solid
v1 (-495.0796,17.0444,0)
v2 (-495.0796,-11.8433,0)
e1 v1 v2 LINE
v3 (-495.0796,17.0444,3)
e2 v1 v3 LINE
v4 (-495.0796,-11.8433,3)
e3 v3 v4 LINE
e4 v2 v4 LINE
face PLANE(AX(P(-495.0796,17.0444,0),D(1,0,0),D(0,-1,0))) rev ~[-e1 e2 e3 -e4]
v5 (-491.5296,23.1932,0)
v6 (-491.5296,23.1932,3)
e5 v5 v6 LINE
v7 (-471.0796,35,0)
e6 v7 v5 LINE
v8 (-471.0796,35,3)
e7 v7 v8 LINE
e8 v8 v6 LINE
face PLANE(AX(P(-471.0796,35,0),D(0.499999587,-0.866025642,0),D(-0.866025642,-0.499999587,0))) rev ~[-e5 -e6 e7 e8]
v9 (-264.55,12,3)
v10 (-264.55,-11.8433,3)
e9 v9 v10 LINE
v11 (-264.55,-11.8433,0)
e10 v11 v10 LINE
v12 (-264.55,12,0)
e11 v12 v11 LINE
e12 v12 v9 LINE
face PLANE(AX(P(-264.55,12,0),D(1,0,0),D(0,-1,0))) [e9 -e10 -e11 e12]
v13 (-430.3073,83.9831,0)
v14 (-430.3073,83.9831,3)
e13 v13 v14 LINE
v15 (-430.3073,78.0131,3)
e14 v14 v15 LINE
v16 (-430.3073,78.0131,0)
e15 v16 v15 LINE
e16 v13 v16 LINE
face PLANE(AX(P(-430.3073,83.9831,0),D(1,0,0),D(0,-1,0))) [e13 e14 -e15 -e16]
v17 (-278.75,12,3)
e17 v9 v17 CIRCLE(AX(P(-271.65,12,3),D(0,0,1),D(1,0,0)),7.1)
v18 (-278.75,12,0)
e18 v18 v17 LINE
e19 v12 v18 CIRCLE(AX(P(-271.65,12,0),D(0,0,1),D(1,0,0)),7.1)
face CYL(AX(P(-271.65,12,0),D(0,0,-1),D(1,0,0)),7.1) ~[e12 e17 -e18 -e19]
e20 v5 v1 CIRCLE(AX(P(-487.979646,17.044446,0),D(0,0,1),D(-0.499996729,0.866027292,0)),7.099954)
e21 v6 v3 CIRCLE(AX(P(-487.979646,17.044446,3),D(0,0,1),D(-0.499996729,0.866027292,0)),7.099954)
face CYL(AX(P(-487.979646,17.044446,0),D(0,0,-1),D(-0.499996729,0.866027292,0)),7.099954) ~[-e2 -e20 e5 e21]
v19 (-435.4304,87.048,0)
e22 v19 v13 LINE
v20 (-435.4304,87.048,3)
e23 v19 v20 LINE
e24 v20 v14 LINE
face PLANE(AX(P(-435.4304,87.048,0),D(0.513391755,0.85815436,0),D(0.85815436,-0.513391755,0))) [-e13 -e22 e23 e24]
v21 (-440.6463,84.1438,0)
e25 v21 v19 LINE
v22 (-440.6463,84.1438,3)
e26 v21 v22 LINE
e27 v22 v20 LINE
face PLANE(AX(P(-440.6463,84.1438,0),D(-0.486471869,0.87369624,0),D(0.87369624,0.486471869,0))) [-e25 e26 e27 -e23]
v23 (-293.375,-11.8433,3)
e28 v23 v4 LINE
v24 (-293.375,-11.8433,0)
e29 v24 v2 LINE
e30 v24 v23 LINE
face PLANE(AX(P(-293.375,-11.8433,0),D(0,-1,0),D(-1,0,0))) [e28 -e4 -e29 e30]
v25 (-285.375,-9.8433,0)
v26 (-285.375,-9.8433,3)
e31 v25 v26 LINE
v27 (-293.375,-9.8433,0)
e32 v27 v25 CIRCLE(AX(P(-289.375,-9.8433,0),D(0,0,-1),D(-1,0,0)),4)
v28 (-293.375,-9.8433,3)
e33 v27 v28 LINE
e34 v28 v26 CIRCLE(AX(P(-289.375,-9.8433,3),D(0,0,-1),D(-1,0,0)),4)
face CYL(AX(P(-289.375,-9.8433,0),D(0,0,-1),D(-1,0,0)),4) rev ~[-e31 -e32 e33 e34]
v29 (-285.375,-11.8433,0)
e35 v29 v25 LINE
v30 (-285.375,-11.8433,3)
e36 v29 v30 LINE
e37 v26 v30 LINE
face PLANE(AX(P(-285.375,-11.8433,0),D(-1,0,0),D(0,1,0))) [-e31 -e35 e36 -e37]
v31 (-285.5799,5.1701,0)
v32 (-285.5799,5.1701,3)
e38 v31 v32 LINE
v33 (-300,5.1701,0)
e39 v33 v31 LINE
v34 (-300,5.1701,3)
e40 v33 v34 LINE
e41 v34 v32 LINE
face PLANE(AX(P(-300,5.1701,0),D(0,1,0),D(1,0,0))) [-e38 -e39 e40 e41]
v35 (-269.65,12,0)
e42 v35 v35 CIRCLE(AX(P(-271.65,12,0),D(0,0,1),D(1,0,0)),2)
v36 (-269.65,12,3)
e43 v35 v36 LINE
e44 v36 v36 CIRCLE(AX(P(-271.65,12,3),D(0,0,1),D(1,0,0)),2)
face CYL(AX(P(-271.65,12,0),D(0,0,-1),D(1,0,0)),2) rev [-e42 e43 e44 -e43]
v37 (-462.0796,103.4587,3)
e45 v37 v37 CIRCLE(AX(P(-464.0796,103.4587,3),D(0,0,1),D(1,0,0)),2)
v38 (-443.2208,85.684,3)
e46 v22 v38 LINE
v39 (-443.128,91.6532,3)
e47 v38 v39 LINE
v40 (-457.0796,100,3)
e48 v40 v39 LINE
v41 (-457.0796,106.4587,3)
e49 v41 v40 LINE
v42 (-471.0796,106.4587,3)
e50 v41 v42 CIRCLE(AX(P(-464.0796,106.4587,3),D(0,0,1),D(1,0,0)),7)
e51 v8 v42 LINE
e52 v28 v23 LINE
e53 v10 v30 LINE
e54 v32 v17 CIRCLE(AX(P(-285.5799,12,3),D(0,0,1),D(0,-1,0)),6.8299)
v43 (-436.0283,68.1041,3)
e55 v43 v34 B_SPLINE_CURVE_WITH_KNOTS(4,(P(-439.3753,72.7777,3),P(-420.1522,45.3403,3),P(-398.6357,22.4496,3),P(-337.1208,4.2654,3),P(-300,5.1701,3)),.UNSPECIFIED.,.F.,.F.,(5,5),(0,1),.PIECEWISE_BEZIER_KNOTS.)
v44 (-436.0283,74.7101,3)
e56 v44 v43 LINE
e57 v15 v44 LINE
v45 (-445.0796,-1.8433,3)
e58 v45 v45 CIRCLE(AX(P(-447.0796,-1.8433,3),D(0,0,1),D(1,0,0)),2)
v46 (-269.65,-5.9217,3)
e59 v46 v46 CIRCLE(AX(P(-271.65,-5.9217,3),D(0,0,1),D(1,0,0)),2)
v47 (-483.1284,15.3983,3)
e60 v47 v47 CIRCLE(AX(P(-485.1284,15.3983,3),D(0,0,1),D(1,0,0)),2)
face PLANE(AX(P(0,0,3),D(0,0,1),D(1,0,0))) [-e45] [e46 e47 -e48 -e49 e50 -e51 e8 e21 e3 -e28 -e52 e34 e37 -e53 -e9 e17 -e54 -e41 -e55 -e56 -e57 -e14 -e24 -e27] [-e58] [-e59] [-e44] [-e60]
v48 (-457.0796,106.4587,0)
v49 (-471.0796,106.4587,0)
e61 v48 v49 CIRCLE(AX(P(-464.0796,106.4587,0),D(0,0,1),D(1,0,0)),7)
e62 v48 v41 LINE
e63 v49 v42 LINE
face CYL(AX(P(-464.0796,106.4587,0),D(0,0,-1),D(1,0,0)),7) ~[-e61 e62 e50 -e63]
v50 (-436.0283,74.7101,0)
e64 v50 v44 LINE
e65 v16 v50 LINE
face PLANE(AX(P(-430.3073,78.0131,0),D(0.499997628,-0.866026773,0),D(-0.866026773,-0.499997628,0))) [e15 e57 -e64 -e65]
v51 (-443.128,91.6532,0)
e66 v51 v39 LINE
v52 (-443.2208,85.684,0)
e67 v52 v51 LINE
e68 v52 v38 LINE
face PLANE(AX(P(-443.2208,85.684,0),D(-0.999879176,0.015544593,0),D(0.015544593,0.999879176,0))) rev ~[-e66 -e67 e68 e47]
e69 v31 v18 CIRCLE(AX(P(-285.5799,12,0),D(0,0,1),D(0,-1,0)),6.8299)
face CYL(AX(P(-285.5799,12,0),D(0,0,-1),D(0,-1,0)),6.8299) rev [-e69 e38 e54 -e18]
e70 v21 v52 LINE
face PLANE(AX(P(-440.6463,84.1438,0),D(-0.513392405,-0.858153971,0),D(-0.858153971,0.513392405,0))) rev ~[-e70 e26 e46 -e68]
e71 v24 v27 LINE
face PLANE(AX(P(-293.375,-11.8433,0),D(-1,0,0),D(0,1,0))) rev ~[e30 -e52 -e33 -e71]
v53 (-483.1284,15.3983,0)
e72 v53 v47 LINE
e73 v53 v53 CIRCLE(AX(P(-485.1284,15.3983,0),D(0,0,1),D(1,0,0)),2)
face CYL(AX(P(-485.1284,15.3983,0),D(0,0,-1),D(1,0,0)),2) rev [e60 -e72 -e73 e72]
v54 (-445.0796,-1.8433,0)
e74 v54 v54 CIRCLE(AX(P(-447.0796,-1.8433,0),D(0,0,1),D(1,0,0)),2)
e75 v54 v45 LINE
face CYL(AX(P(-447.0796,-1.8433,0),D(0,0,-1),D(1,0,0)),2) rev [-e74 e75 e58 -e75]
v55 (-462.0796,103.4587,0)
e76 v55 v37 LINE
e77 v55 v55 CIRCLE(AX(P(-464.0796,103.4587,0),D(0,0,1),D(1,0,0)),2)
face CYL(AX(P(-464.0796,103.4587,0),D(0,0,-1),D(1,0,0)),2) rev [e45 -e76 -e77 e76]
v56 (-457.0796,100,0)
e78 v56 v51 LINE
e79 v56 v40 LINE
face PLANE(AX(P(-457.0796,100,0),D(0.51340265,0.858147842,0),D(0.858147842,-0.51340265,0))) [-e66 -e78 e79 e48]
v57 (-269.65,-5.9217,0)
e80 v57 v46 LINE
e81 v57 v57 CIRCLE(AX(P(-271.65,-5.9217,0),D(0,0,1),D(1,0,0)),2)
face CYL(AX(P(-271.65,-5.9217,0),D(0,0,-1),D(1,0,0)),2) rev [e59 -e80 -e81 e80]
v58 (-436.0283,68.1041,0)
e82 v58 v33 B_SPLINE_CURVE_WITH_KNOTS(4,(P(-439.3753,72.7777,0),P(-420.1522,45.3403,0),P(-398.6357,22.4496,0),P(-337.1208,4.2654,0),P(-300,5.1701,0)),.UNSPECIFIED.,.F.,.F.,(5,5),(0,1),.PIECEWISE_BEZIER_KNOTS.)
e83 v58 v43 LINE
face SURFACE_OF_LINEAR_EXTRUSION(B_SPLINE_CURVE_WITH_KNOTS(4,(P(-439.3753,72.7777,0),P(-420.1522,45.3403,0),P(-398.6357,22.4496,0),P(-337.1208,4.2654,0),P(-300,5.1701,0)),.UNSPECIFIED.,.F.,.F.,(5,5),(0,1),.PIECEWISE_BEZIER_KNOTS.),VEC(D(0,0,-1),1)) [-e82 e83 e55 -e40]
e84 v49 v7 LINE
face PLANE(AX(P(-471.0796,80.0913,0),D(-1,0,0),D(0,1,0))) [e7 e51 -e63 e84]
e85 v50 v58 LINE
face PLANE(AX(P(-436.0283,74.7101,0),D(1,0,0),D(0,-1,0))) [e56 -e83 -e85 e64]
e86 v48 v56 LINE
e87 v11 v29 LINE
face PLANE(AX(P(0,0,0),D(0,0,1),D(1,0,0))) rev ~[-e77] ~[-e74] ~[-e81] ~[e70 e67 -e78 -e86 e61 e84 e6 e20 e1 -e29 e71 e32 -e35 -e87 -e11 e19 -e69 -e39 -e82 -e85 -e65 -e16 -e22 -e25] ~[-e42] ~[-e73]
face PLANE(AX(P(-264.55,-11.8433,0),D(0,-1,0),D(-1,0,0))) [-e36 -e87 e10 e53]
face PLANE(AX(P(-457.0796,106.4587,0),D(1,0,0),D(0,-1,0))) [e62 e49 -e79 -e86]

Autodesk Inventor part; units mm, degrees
ref_plane "YZ Plane" through (0, 0, 0) normal (1, 0, 0) x (0, 1, 0)
ref_plane "XZ Plane" through (0, 0, 0) normal (0, 1, 0) x (-1, 0, 0)
ref_plane "XY Plane" through (0, 0, 0) normal (0, 0, 1) x (1, 0, 0)
sketch "Sketch3" plane through (0, 0, 0) normal (0, 0, 1) x (1, 0, 0)
  circle A0 centre (367.816, 50) radius 50 construction
  line L0 (367.816, 0) -> (512.7041, 0) construction
  line L1 (367.816, 50) -> (512.7041, 50) construction
  line L2 (367.816, 100) -> (512.7041, 100) construction
  line L3 (367.816, 50) -> (342.816, 6.6987) construction
  line L4 (367.816, 50) -> (324.5147, 25) construction
  line L5 (367.816, 50) -> (324.5147, 75) construction
  line L6 (342.816, 93.3013) -> (367.816, 50) construction
  line L7 (392.816, 93.3013) -> (367.816, 50) construction
  line L8 (411.1173, 75) -> (367.816, 50) construction
  line L9 (411.1173, 25) -> (367.816, 50) construction
  line L10 (392.816, 6.6987) -> (367.816, 50) construction
  line L11 (367.816, 0) -> (367.816, 100) construction
  line L12 (417.816, 50) -> (367.816, 50) construction
  line L13 (341.6361, 0) -> (341.6361, 100) construction
  line L14 (315.4561, 0) -> (315.4561, 100) construction
  line L15 (289.2762, 0) -> (289.2762, 100) construction
  line L16 (263.0963, 0) -> (263.0963, 100) construction
  line L17 (236.9163, 0) -> (236.9163, 100) construction
  line L18 (210.7364, 0) -> (210.7364, 100) construction
  line L19 (184.5564, 0) -> (184.5564, 100) construction
  line L20 (158.3765, 0) -> (158.3765, 100) construction
  circle A1 centre (315.4561, 50) radius 50 construction
  circle A2 centre (341.6361, 50) radius 50 construction
  circle A3 centre (289.2762, 50) radius 50 construction
  circle A4 centre (263.0963, 50) radius 50 construction
  circle A5 centre (236.9163, 50) radius 50 construction
  circle A6 centre (210.7364, 50) radius 50 construction
  line L21 (392.816, 6.6987) -> (512.7041, 6.6987) construction
  line L22 (411.1173, 25) -> (512.7041, 25) construction
  line L23 (411.1173, 75) -> (512.7041, 75) construction
  line L24 (411.1173, 75) -> (512.7041, 75) construction
  line L25 (392.816, 93.3013) -> (512.7041, 93.3013) construction
  line L26 (358.7574, 75) -> (339.2762, 50) construction
  line L27 (339.2762, 50) -> (306.3975, 25) construction
  line L28 (306.3975, 25) -> (261.9163, 6.6987) construction
  line L29 (261.9163, 6.6987) -> (210.7364, 0) construction
  line L30 (105.3682, -12.9392) -> (105.3682, 124.4333) construction
  line L31 (21.25, 0) -> (21.25, 12)
  line L32 (35.45, 12) -> (35.45, -11.8433)
  arc A7 (0, 0) -> (6.625, -9.8433) centre (10.625, 0) ccw
  arc A8 (14.625, -9.8433) -> (21.25, 0) centre (10.625, 0) ccw
  line L33 (35.45, -11.8433) -> (14.625, -11.8433)
  line L34 (6.625, -11.8433) -> (-195.0796, -11.8433)
  circle A9 centre (-144.26, 100.8473) radius 12.875 construction
  line L35 (6.625, -11.8433) -> (6.625, -9.8433)
  line L36 (14.625, -11.8433) -> (14.625, -9.8433)
  line L37 (411.1173, 75) -> (158.3765, 75) construction
  line L38 (367.816, 100) -> (158.3765, 100) construction
  line L39 (417.816, 50) -> (158.3765, 50) construction
  line L40 (411.1173, 25) -> (158.3765, 25) construction
  line L41 (392.816, 6.6987) -> (158.3765, 6.6987) construction
  line L42 (392.816, 93.3013) -> (158.3765, 93.3013) construction
  line L43 (358.7574, 75) -> (366.6361, 93.3013) construction
  line L44 (366.6361, 93.3013) -> (367.816, 100) construction
  spline S0 degree 4 poles (-157.0796, 100) (-157.0796, 88.9946) (-147.011, 72.6811) (-131.8577, 48.7932) (-88.4777, 17.6268) (-50.0176, 3.937) (-18.8717, 0) (0, 0) knots 0 0 0 0 0 0.264547 0.457223 0.66608 1 1 1 1 1
  line L45 (-157.0796, 100) -> (-157.0796, 38) construction
  line L46 (0, 0) -> (-157.0796, 0) construction
  line L47 (-144.26, 100.8473) -> (-157.135, 100.8473) construction
  circle A10 centre (-146.4546, 100) radius 10.625 construction
  line L48 (-146.4546, 100) -> (-157.0796, 100) construction
  line L49 (-141.0754, 84.4005) -> (-135.6205, 93.5183) construction
  line L50 (-141.0796, 132.0528) -> (-171.0796, 149.3733) construction
  line L51 (-171.0796, 149.3733) -> (-201.0796, 132.0528) construction
  line L52 (-141.0754, 84.4005) -> (-99.2801, 84.4005) construction
  line L53 (-201.0796, 132.0528) -> (-201.0796, 97.4118) construction
  line L54 (-201.0796, 97.4118) -> (-171.0796, 80.0913) construction
  line L55 (0, 0) -> (-157.0796, 93.9753) construction
  line L56 (-135.6205, 93.5183) -> (-137.3368, 94.5451) construction
  line L57 (-137.3368, 94.5451) -> (-143.2815, 84.6085) construction
  line L58 (-137.3368, 94.5451) -> (-171.0796, 114.7323) construction
  line L59 (-201.0796, 132.0528) -> (-171.0796, 114.7323) construction
  arc A11 (-137.3368, 94.5451) -> (-144.7045, 143.8948) centre (-171.0796, 114.7323) ccw construction
  arc A12 (-142.7917, 85.4273) -> (-147.1443, 147.6882) centre (-171.0796, 114.7323) ccw construction
  line L60 (-171.0796, 80.0913) -> (-171.0796, 35)
  circle A13 centre (-171.0796, 114.7323) radius 2.5 construction
  arc A14 (-167.4345, 120.8251) -> (-174.7248, 108.6394) centre (-171.0796, 114.7323) ccw construction
  line L61 (-167.4345, 120.8251) -> (-157.0796, 114.6302) construction
  line L62 (-171.0796, 80.0913) -> (-171.0796, 106.4587)
  line L63 (-171.0796, 106.4587) -> (-174.7248, 108.6394) construction
  line L64 (-171.0796, 35) -> (-191.5296, 23.1932)
  arc A15 (-191.5296, 23.1932) -> (-195.0796, 17.0444) centre (-187.9796, 17.0444) ccw
  line L65 (-195.0796, 17.0444) -> (-195.0796, -11.8433)
  arc A16 (35.45, 12) -> (21.25, 12) centre (28.35, 12) ccw
  line L66 (-157.0796, 114.6302) -> (-157.0796, 99.9865) construction
  circle A17 centre (-164.0796, 103.4587) radius 2
  line L67 (-171.0796, 103.4587) -> (-157.0796, 103.4587) construction
  circle A18 centre (-185.1284, 15.3983) radius 2
  line L68 (-185.1284, 15.3983) -> (-194.1284, 20.5944) construction
  circle A19 centre (-6, -5.9217) radius 2
  line L69 (-6, -11.8433) -> (-6, 0) construction
  circle A20 centre (28.35, 12) radius 2
  circle A21 centre (28.35, -5.9217) radius 2
  line L70 (-167.4345, 320.8251) -> (-157.0796, 314.6302) construction
  arc A22 (-167.4345, 320.8251) -> (-174.7248, 308.6394) centre (-171.0796, 314.7323) ccw construction
  circle A23 centre (-171.0796, 314.7323) radius 2.5 construction
  line L71 (-171.0796, 280.0913) -> (-171.0796, 306.4587)
  line L72 (-171.0796, 306.4587) -> (-174.7248, 308.6394) construction
  line L73 (-157.0796, 314.6302) -> (-157.0796, 299.9865) construction
  circle A24 centre (-164.0796, 303.4587) radius 2
  spline S1 degree 4 poles (-157.0796, 300) (-157.0796, 288.9946) (-147.0234, 272.6841) (-124.1789, 236.7977) (-70.8039, 208.0704) (-31.8865, 200.2943) (0, 200) knots 0 0 0 0 0 0.264547 0.457223 1 1 1 1 1 construction
  line L74 (-157.0796, 300) -> (-157.0796, 238) construction
  arc A25 (0, 200) -> (6.625, 190.1567) centre (10.625, 200) ccw
  line L75 (35.45, 212) -> (35.45, 188.1567)
  circle A26 centre (28.35, 212) radius 2
  circle A27 centre (28.35, 194.0783) radius 2
  arc A28 (35.45, 212) -> (21.25, 212) centre (28.35, 212) ccw
  line L76 (21.25, 200) -> (21.25, 212)
  line L77 (35.45, 188.1567) -> (14.625, 188.1567)
  arc A29 (14.625, 190.1567) -> (21.25, 200) centre (10.625, 200) ccw
  line L78 (14.625, 188.1567) -> (14.625, 190.1567)
  line L79 (-185.1284, 215.3983) -> (-194.1284, 220.5944) construction
  arc A30 (-191.5296, 223.1932) -> (-195.0796, 217.0444) centre (-187.9796, 217.0444) ccw
  line L80 (-195.0796, 217.0444) -> (-195.0796, 188.1567)
  line L81 (-171.0796, 235) -> (-191.5296, 223.1932)
  circle A31 centre (-185.1284, 215.3983) radius 2
  line L82 (-171.0796, 280.0913) -> (-171.0796, 235)
  line L83 (6.625, 188.1567) -> (-195.0796, 188.1567)
  line L84 (6.625, 188.1567) -> (6.625, 190.1567)
  line L85 (-137.3368, 294.5451) -> (-143.2815, 284.6085) construction
  line L86 (-141.0754, 284.4005) -> (-135.6205, 293.5183) construction
  line L87 (0, 200) -> (-157.0796, 293.9753)
  line L88 (-167.4345, 520.8251) -> (-157.0796, 514.6302) construction
  arc A32 (-167.4345, 520.8251) -> (-174.7248, 508.6394) centre (-171.0796, 514.7323) ccw construction
  circle A33 centre (-171.0796, 514.7323) radius 2.5 construction
  line L89 (-171.0796, 480.0913) -> (-171.0796, 506.4587)
  line L90 (-171.0796, 506.4587) -> (-174.7248, 508.6394) construction
  line L91 (-157.0796, 514.6302) -> (-157.0796, 499.9865) construction
  circle A34 centre (-164.0796, 503.4587) radius 2
  spline S2 degree 4 poles (-157.0796, 500) (-157.0796, 488.9946) (-147.0234, 472.6841) (-124.1789, 436.7977) (-70.8039, 408.0704) (-31.8865, 400.2943) (0, 400) knots 0 0 0 0 0 0.264547 0.457223 1 1 1 1 1 construction
  line L92 (-157.0796, 500) -> (-157.0796, 438)
  arc A35 (0, 400) -> (6.625, 390.1567) centre (10.625, 400) ccw
  line L93 (35.45, 412) -> (35.45, 388.1567)
  circle A36 centre (28.35, 412) radius 2
  circle A37 centre (28.35, 394.0783) radius 2
  arc A38 (35.45, 412) -> (21.25, 412) centre (28.35, 412) ccw
  line L94 (21.25, 400) -> (21.25, 412)
  line L95 (35.45, 388.1567) -> (14.625, 388.1567)
  arc A39 (14.625, 390.1567) -> (21.25, 400) centre (10.625, 400) ccw
  line L96 (14.625, 388.1567) -> (14.625, 390.1567)
  line L97 (-185.1284, 415.3983) -> (-194.1284, 420.5944) construction
  arc A40 (-191.5296, 423.1932) -> (-195.0796, 417.0444) centre (-187.9796, 417.0444) ccw
  line L98 (-195.0796, 417.0444) -> (-195.0796, 388.1567)
  line L99 (-171.0796, 435) -> (-191.5296, 423.1932)
  circle A41 centre (-185.1284, 415.3983) radius 2
  line L100 (-171.0796, 480.0913) -> (-171.0796, 435)
  line L101 (6.625, 388.1567) -> (-195.0796, 388.1567)
  line L102 (6.625, 388.1567) -> (6.625, 390.1567)
  line L103 (-137.3368, 494.5451) -> (-143.2815, 484.6085) construction
  line L104 (-141.0754, 484.4005) -> (-135.6205, 493.5183) construction
  line L105 (0, 400) -> (-157.0796, 493.9753) construction
  line L106 (-467.4345, 120.8251) -> (-457.0796, 114.6302) construction
  arc A42 (-467.4345, 120.8251) -> (-474.7248, 108.6394) centre (-471.0796, 114.7323) ccw construction
  circle A43 centre (-471.0796, 114.7323) radius 2.5 construction
  line L107 (-471.0796, 80.0913) -> (-471.0796, 106.4587)
  line L108 (-471.0796, 106.4587) -> (-474.7248, 108.6394) construction
  line L109 (-457.0796, 114.6302) -> (-457.0796, 99.9865) construction
  circle A44 centre (-464.0796, 103.4587) radius 2
  spline S3 degree 4 poles (-457.0796, 100) (-457.0796, 88.9946) (-447.0234, 72.6841) (-424.1789, 36.7977) (-370.8039, 8.0704) (-331.8865, 0.2943) (-300, 0) knots 0 0 0 0 0 0.264547 0.457223 1 1 1 1 1 construction
  line L110 (-457.0796, 100) -> (-457.0796, 38) construction
  arc A45 (-300, 0) -> (-293.375, -9.8433) centre (-289.375, 0) ccw construction
  line L111 (-264.55, 12) -> (-264.55, -11.8433)
  circle A46 centre (-271.65, 12) radius 2
  circle A47 centre (-271.65, -5.9217) radius 2
  arc A48 (-264.55, 12) -> (-278.75, 12) centre (-271.65, 12) ccw
  line L112 (-278.75, 0) -> (-278.75, 12) construction
  line L113 (-264.55, -11.8433) -> (-285.375, -11.8433)
  arc A49 (-285.375, -9.8433) -> (-278.75, 0) centre (-289.375, 0) ccw construction
  line L114 (-285.375, -11.8433) -> (-285.375, -9.8433) construction
  line L115 (-485.1284, 15.3983) -> (-494.1284, 20.5944) construction
  arc A50 (-491.5296, 23.1932) -> (-495.0796, 17.0444) centre (-487.9796, 17.0444) ccw
  line L116 (-495.0796, 17.0444) -> (-495.0796, -11.8433)
  line L117 (-471.0796, 35) -> (-491.5296, 23.1932)
  circle A51 centre (-485.1284, 15.3983) radius 2
  line L118 (-471.0796, 80.0913) -> (-471.0796, 35)
  line L119 (-293.375, -11.8433) -> (-495.0796, -11.8433)
  line L120 (-293.375, -11.8433) -> (-293.375, -9.8433) construction
  line L121 (-437.3368, 94.5451) -> (-443.2815, 84.6085) construction
  line L122 (-441.0754, 84.4005) -> (-435.6205, 93.5183) construction
  line L123 (-300, 0) -> (-457.0796, 93.9753) construction
  line L124 (-467.4345, 320.8251) -> (-457.0796, 314.6302) construction
  arc A52 (-467.4345, 320.8251) -> (-474.7248, 308.6394) centre (-471.0796, 314.7323) ccw construction
  circle A53 centre (-471.0796, 314.7323) radius 2.5 construction
  line L125 (-471.0796, 280.0913) -> (-471.0796, 306.4587)
  line L126 (-471.0796, 306.4587) -> (-474.7248, 308.6394) construction
  line L127 (-457.0796, 314.6302) -> (-457.0796, 299.9865) construction
  circle A54 centre (-464.0796, 303.4587) radius 2
  spline S4 degree 4 poles (-457.0796, 300) (-457.0796, 288.9946) (-447.0234, 272.6841) (-424.1789, 236.7977) (-370.8039, 208.0704) (-331.8865, 200.2943) (-300, 200) knots 0 0 0 0 0 0.264547 0.457223 1 1 1 1 1 construction
  line L128 (-457.0796, 300) -> (-457.0796, 238) construction
  arc A55 (-300, 200) -> (-293.375, 190.1567) centre (-289.375, 200) ccw construction
  line L129 (-264.55, 212) -> (-264.55, 188.1567)
  circle A56 centre (-271.65, 212) radius 2
  circle A57 centre (-271.65, 194.0783) radius 2
  arc A58 (-264.55, 212) -> (-278.75, 212) centre (-271.65, 212) ccw
  line L130 (-278.75, 200) -> (-278.75, 212) construction
  line L131 (-264.55, 188.1567) -> (-285.375, 188.1567)
  arc A59 (-285.375, 190.1567) -> (-278.75, 200) centre (-289.375, 200) ccw construction
  line L132 (-285.375, 188.1567) -> (-285.375, 190.1567) construction
  line L133 (-485.1284, 215.3983) -> (-494.1284, 220.5944) construction
  arc A60 (-491.5296, 223.1932) -> (-495.0796, 217.0444) centre (-487.9796, 217.0444) ccw
  line L134 (-495.0796, 217.0444) -> (-495.0796, 188.1567)
  line L135 (-471.0796, 235) -> (-491.5296, 223.1932)
  circle A61 centre (-485.1284, 215.3983) radius 2
  line L136 (-471.0796, 280.0913) -> (-471.0796, 235)
  line L137 (-293.375, 188.1567) -> (-495.0796, 188.1567)
  line L138 (-293.375, 188.1567) -> (-293.375, 190.1567) construction
  line L139 (-437.3368, 294.5451) -> (-443.2815, 284.6085) construction
  line L140 (-441.0754, 284.4005) -> (-435.6205, 293.5183) construction
  line L141 (-300, 200) -> (-457.0796, 293.9753) construction
  line L142 (-467.4345, 520.8251) -> (-457.0796, 514.6302)
  arc A62 (-467.4345, 520.8251) -> (-474.7248, 508.6394) centre (-471.0796, 514.7323) ccw
  circle A63 centre (-471.0796, 514.7323) radius 2.5
  line L143 (-471.0796, 480.0913) -> (-471.0796, 506.4587)
  line L144 (-471.0796, 506.4587) -> (-474.7248, 508.6394)
  line L145 (-457.0796, 514.6302) -> (-457.0796, 499.9865)
  circle A64 centre (-464.0796, 503.4587) radius 2
  spline S5 degree 4 poles (-457.0796, 500) (-457.0796, 488.9946) (-447.0234, 472.6841) (-424.1789, 436.7977) (-370.8039, 408.0704) (-331.8865, 400.2943) (-300, 400) knots 0 0 0 0 0 0.264547 0.457223 1 1 1 1 1 construction
  line L146 (-457.0796, 500) -> (-457.0796, 438) construction
  arc A65 (-300, 400) -> (-293.375, 390.1567) centre (-289.375, 400) ccw construction
  line L147 (-264.55, 412) -> (-264.55, 388.1567) construction
  circle A66 centre (-271.65, 412) radius 2
  circle A67 centre (-271.65, 394.0783) radius 2
  arc A68 (-264.55, 412) -> (-278.75, 412) centre (-271.65, 412) ccw
  line L148 (-278.75, 400) -> (-278.75, 412) construction
  line L149 (-264.55, 388.1567) -> (-285.375, 388.1567)
  arc A69 (-285.375, 390.1567) -> (-278.75, 400) centre (-289.375, 400) ccw construction
  line L150 (-285.375, 388.1567) -> (-285.375, 390.1567) construction
  line L151 (-485.1284, 415.3983) -> (-494.1284, 420.5944) construction
  arc A70 (-491.5296, 423.1932) -> (-495.0796, 417.0444) centre (-487.9796, 417.0444) ccw
  line L152 (-495.0796, 417.0444) -> (-495.0796, 388.1567) construction
  line L153 (-471.0796, 435) -> (-491.5296, 423.1932)
  circle A71 centre (-485.1284, 415.3983) radius 2
  line L154 (-471.0796, 480.0913) -> (-471.0796, 435)
  line L155 (-293.375, 388.1567) -> (-495.0796, 388.1567)
  line L156 (-293.375, 388.1567) -> (-293.375, 390.1567) construction
  line L157 (-437.3368, 494.5451) -> (-443.2815, 484.6085) construction
  line L158 (-441.0754, 484.4005) -> (-435.6205, 493.5183) construction
  line L159 (-300, 400) -> (-457.0796, 493.9753) construction
  line L160 (-435.4304, 87.048) -> (-430.3073, 83.9831)
  line L161 (-430.3073, 83.9831) -> (-430.3073, 78.0131)
  line L162 (-457.0796, 100) -> (-443.128, 91.6532)
  line L163 (-443.2208, 85.684) -> (-443.128, 91.6532)
  line L164 (-440.6463, 84.1438) -> (-435.4304, 87.048)
  line L165 (-440.6463, 84.1438) -> (-443.2208, 85.684)
  line L166 (-430.3073, 78.0131) -> (-436.0283, 74.7101)
  line L167 (-436.0283, 74.7101) -> (-436.0283, 68.1041)
  spline S6 degree 4 poles (-439.3753, 72.7777) (-420.1522, 45.3403) (-398.6357, 22.4496) (-337.1208, 4.2654) (-300, 5.1701) knots 0 0 0 0 0 1 1 1 1 1
  line L168 (-293.375, -11.8433) -> (-285.375, -11.8433)
  line L169 (-157.0796, 293.9753) -> (-157.0796, 300)
  line L170 (-293.375, 188.1567) -> (-285.375, 188.1567)
  arc A72 (-157.0796, 438) -> (-119.0796, 400) centre (-119.0796, 438) ccw
  line L171 (-119.0796, 400) -> (0, 400)
  line L172 (-457.0796, 500) -> (-457.0796, 438) construction
  line L173 (-419.0796, 400) -> (-300, 400) construction
  arc A73 (-457.0796, 438) -> (-419.0796, 400) centre (-419.0796, 438) ccw construction
  line L174 (-457.0796, 300) -> (-443.128, 291.6532)
  line L175 (-443.2208, 285.684) -> (-443.128, 291.6532)
  line L176 (-440.6463, 284.1438) -> (-443.2208, 285.684)
  line L177 (-440.6463, 284.1438) -> (-435.4304, 287.048)
  line L178 (-435.4304, 287.048) -> (-430.3073, 283.9831)
  line L179 (-430.3073, 283.9831) -> (-430.3073, 278.0131) construction
  line L180 (-430.3073, 278.0131) -> (-436.0283, 274.7101) construction
  line L181 (-457.0796, 500) -> (-443.128, 491.6532)
  line L182 (-443.2208, 485.684) -> (-443.128, 491.6532)
  line L183 (-440.6463, 484.1438) -> (-443.2208, 485.684)
  line L184 (-440.6463, 484.1438) -> (-435.4304, 487.048)
  line L185 (-435.4304, 487.048) -> (-430.3073, 483.9831)
  line L186 (-430.3073, 483.9831) -> (-430.3073, 478.0131)
  line L187 (-430.3073, 478.0131) -> (-436.0283, 474.7101)
  line L188 (-430.3073, 283.9831) -> (-298.5715, 205.1701)
  line L189 (-293.375, 388.1567) -> (-285.375, 388.1567)
  line L190 (-300, 5.1701) -> (-285.5799, 5.1701)
  arc A74 (-285.5799, 5.1701) -> (-278.75, 12) centre (-285.5799, 12) ccw
  line L191 (-298.5715, 205.1701) -> (-285.5799, 205.1701)
  arc A75 (-285.5799, 205.1701) -> (-278.75, 212) centre (-285.5799, 212) ccw
  line L192 (-436.0283, 474.7101) -> (-451.9095, 465.5411)
  line L193 (-451.9095, 465.5411) -> (-451.9095, 438)
  arc A76 (-451.9095, 438) -> (-419.0796, 405.1701) centre (-419.0796, 438) ccw
  line L194 (-419.0796, 405.1701) -> (-285.5799, 405.1701)
  arc A77 (-285.5799, 405.1701) -> (-278.75, 412) centre (-285.5799, 412) ccw
  line L195 (-495.0796, 388.1567) -> (-514.2796, 388.1567)
  line L196 (-514.2796, 388.1567) -> (-514.2796, 392.1567)
  line L197 (-514.2796, 392.1567) -> (-498.0796, 392.1567)
  arc A78 (-498.0796, 392.1567) -> (-495.0796, 395.1567) centre (-498.0796, 395.1567) ccw
  line L198 (-495.0796, 395.1567) -> (-495.0796, 417.0444)
  line L199 (-499.0796, 388.1567) -> (-510.2796, 388.1567) construction
  line L200 (-510.2796, 388.1567) -> (-510.2796, 392.1567) construction
  line L201 (-510.2796, 392.1567) -> (-499.0796, 392.1567) construction
  line L202 (-499.0796, 392.1567) -> (-499.0796, 388.1567) construction
  line L203 (-499.0796, 388.1567) -> (-510.2796, 392.1567) construction
  line L204 (-510.2796, 388.1567) -> (-499.0796, 392.1567) construction
  arc A79 (-600, 200) -> (-593.375, 190.1567) centre (-589.375, 200) ccw construction
  line L205 (-564.55, 212) -> (-564.55, 188.1567) construction
  circle A80 centre (-571.65, 212) radius 2
  circle A81 centre (-571.65, 194.0783) radius 2
  arc A82 (-564.55, 212) -> (-578.75, 212) centre (-571.65, 212) ccw
  line L206 (-578.75, 200) -> (-578.75, 212) construction
  line L207 (-564.55, 188.1567) -> (-585.375, 188.1567)
  arc A83 (-585.375, 190.1567) -> (-578.75, 200) centre (-589.375, 200) ccw construction
  line L208 (-585.375, 188.1567) -> (-585.375, 190.1567) construction
  line L209 (-593.375, 188.1567) -> (-593.375, 190.1567) construction
  arc A84 (-585.5799, 205.1701) -> (-578.75, 212) centre (-585.5799, 212) ccw
  line L210 (-593.375, 188.1567) -> (-585.375, 188.1567)
  line L211 (-598.5715, 205.1701) -> (-585.5799, 205.1701)
  arc A85 (-791.5296, 223.1932) -> (-795.0796, 217.0444) centre (-787.9796, 217.0444) ccw
  line L212 (-785.1284, 215.3983) -> (-794.1284, 220.5944) construction
  circle A86 centre (-785.1284, 215.3983) radius 2
  line L213 (-771.0796, 235) -> (-791.5296, 223.1932)
  line L214 (-795.0796, 217.0444) -> (-795.0796, 188.1567) construction
  line L215 (-730.3073, 278.0131) -> (-736.0283, 274.7101) construction
  line L216 (-757.0796, 300) -> (-757.0796, 238) construction
  line L217 (-730.3073, 283.9831) -> (-730.3073, 278.0131) construction
  line L218 (-730.3073, 283.9831) -> (-598.5715, 205.1701)
  line L219 (-600, 200) -> (-757.0796, 293.9753) construction
  spline S7 degree 4 poles (-757.0796, 300) (-757.0796, 288.9946) (-747.0234, 272.6841) (-724.1789, 236.7977) (-670.8039, 208.0704) (-631.8865, 200.2943) (-600, 200) knots 0 0 0 0 0 0.264547 0.457223 1 1 1 1 1 construction
  line L220 (-593.375, 188.1567) -> (-795.0796, 188.1567)
  line L221 (-771.0796, 280.0913) -> (-771.0796, 235)
  line L222 (-757.0796, 300) -> (-743.128, 291.6532)
  line L223 (-743.2208, 285.684) -> (-743.128, 291.6532)
  line L224 (-740.6463, 284.1438) -> (-743.2208, 285.684)
  line L225 (-737.3368, 294.5451) -> (-743.2815, 284.6085) construction
  line L226 (-741.0754, 284.4005) -> (-735.6205, 293.5183) construction
  line L227 (-740.6463, 284.1438) -> (-735.4304, 287.048)
  line L228 (-735.4304, 287.048) -> (-730.3073, 283.9831)
  line L229 (-767.4345, 320.8251) -> (-757.0796, 314.6302)
  line L230 (-771.0796, 280.0913) -> (-771.0796, 306.4587)
  line L231 (-757.0796, 314.6302) -> (-757.0796, 299.9865)
  circle A87 centre (-764.0796, 303.4587) radius 2
  line L232 (-771.0796, 306.4587) -> (-774.7248, 308.6394)
  circle A88 centre (-771.0796, 314.7323) radius 2.5
  arc A89 (-767.4345, 320.8251) -> (-774.7248, 308.6394) centre (-771.0796, 314.7323) ccw
  line L233 (-795.0796, 188.1567) -> (-814.2796, 188.1567)
  line L234 (-814.2796, 188.1567) -> (-814.2796, 192.1567)
  line L235 (-814.2796, 192.1567) -> (-798.0796, 192.1567)
  arc A90 (-798.0796, 192.1567) -> (-795.0796, 195.1567) centre (-798.0796, 195.1567) ccw
  line L236 (-795.0796, 195.1567) -> (-795.0796, 217.0444)
  line L237 (-799.0796, 188.1567) -> (-810.2796, 188.1567) construction
  line L238 (-810.2796, 188.1567) -> (-810.2796, 192.1567) construction
  line L239 (-810.2796, 192.1567) -> (-799.0796, 192.1567) construction
  line L240 (-799.0796, 192.1567) -> (-799.0796, 188.1567) construction
  line L241 (-799.0796, 188.1567) -> (-810.2796, 192.1567) construction
  line L242 (-810.2796, 188.1567) -> (-799.0796, 192.1567) construction
  line L243 (-495.0796, 587.6927) -> (-264.55, 587.6927) construction
  line L244 (-379.8148, 587.6927) -> (-379.8148, 614.3146) construction
  line L245 (-795.0796, 438) -> (-564.55, 438) construction
  line L246 (-679.8148, 438) -> (-679.8148, 492.8294) construction
  arc A91 (-564.55, 195.1567) -> (-561.55, 192.1567) centre (-561.55, 195.1567) ccw
  line L247 (-545.35, 192.1567) -> (-561.55, 192.1567)
  line L248 (-545.35, 188.1567) -> (-545.35, 192.1567)
  line L249 (-560.55, 192.1567) -> (-560.55, 188.1567) construction
  line L250 (-560.55, 188.1567) -> (-549.35, 188.1567) construction
  line L251 (-564.55, 188.1567) -> (-545.35, 188.1567)
  line L252 (-549.35, 188.1567) -> (-549.35, 192.1567) construction
  line L253 (-549.35, 192.1567) -> (-560.55, 192.1567) construction
  line L254 (-560.55, 188.1567) -> (-549.35, 192.1567) construction
  line L255 (-549.35, 188.1567) -> (-560.55, 192.1567) construction
  line L256 (-564.55, 195.1567) -> (-564.55, 212)
  circle A92 centre (-147.0796, 398.1567) radius 2
  circle A93 centre (-147.0796, 198.1567) radius 2
  circle A94 centre (-147.0796, -1.8433) radius 2
  circle A95 centre (-447.0796, 398.1567) radius 2
  circle A96 centre (-447.0796, 198.1567) radius 2
  circle A97 centre (-447.0796, -1.8433) radius 2
  circle A98 centre (-747.0796, 398.1567) radius 2 construction
  circle A99 centre (-747.0796, 198.1567) radius 2
  circle A100 centre (-747.0796, -1.8433) radius 2 construction
  line L257 (-264.55, 388.1567) -> (-245.35, 388.1567)
  line L258 (-245.35, 388.1567) -> (-245.35, 392.1567)
  line L259 (-245.35, 392.1567) -> (-261.55, 392.1567)
  arc A101 (-264.55, 395.1567) -> (-261.55, 392.1567) centre (-261.55, 395.1567) ccw
  line L260 (-260.55, 388.1567) -> (-249.35, 388.1567) construction
  line L261 (-249.35, 388.1567) -> (-249.35, 392.1567) construction
  line L262 (-249.35, 392.1567) -> (-260.55, 392.1567) construction
  line L263 (-260.55, 392.1567) -> (-260.55, 388.1567) construction
  line L264 (-260.55, 388.1567) -> (-249.35, 392.1567) construction
  line L265 (-249.35, 388.1567) -> (-260.55, 392.1567) construction
  line L266 (-264.55, 412) -> (-264.55, 395.1567)
  arc A102 (-157.0796, 106.4587) -> (-171.0796, 106.4587) centre (-164.0796, 106.4587) ccw
  line L267 (-157.0796, 106.4587) -> (-157.0796, 100)
  arc A103 (-157.0796, 306.4587) -> (-171.0796, 306.4587) centre (-164.0796, 306.4587) ccw
  line L268 (-157.0796, 306.4587) -> (-157.0796, 300)
  arc A104 (-157.0796, 506.4587) -> (-171.0796, 506.4587) centre (-164.0796, 506.4587) ccw
  line L269 (-157.0796, 506.4587) -> (-157.0796, 500)
  arc A105 (-457.0796, 106.4587) -> (-471.0796, 106.4587) centre (-464.0796, 106.4587) ccw
  line L270 (-457.0796, 106.4587) -> (-457.0796, 100)
  arc A106 (-457.0796, 306.4587) -> (-471.0796, 306.4587) centre (-464.0796, 306.4587) ccw
  line L271 (-457.0796, 306.4587) -> (-457.0796, 300)
  arc A107 (-457.0796, 506.4587) -> (-471.0796, 506.4587) centre (-464.0796, 506.4587) ccw construction
  line L272 (-457.0796, 506.4587) -> (-457.0796, 500) construction
  point P0 (158.3765, 0)
  point P1 (-148.021, 75)
  point P2 (-128.5398, 50)
  point P3 (-95.6611, 25)
  point P4 (-51.1799, 6.6987)
  point P5 (-155.8997, 93.3013)
  point P6 (-148.021, 275)
  point P7 (-128.5398, 250)
  point P8 (-95.6611, 225)
  point P9 (-51.1799, 206.6987)
  point P10 (-157.0796, 303.4587)
  point P11 (-157.0796, 200)
  point P12 (-171.0796, 303.4587)
  point P13 (-6, 188.1567)
  point P14 (-142.7917, 285.4273)
  point P15 (-148.021, 475)
  point P16 (-128.5398, 450)
  point P17 (-95.6611, 425)
  point P18 (-51.1799, 406.6987)
  point P19 (-157.0796, 503.4587)
  point P20 (-157.0796, 400)
  point P21 (-171.0796, 503.4587)
  point P22 (-6, 388.1567)
  point P23 (-142.7917, 485.4273)
  point P24 (-448.021, 75)
  point P25 (-428.5398, 50)
  point P26 (-395.6611, 25)
  point P27 (-351.1799, 6.6987)
  point P28 (-457.0796, 103.4587)
  point P29 (-457.0796, 0)
  point P30 (-471.0796, 103.4587)
  point P31 (-306, -11.8433)
  point P32 (-442.7917, 85.4273)
  point P33 (-448.021, 275)
  point P34 (-428.5398, 250)
  point P35 (-395.6611, 225)
  point P36 (-351.1799, 206.6987)
  point P37 (-457.0796, 303.4587)
  point P38 (-457.0796, 200)
  point P39 (-471.0796, 303.4587)
  point P40 (-306, 188.1567)
  point P41 (-442.7917, 285.4273)
  point P42 (-448.021, 475)
  point P43 (-428.5398, 450)
  point P44 (-395.6611, 425)
  point P45 (-351.1799, 406.6987)
  point P46 (-457.0796, 503.4587)
  point P47 (-457.0796, 400)
  point P48 (-471.0796, 503.4587)
  point P49 (-306, 388.1567)
  point P50 (-442.7917, 485.4273)
  point P51 (-421.2258, 50.7726)
  point P52 (-392.6255, 29.6644)
  point P53 (-346.6709, 11.6004)
  point P54 (-436.0267, 68.102)
  point P55 (-457.0796, 503.4587)
  point P56 (-504.6796, 390.1567)
  point P57 (-606, 188.1567)
  point P58 (-757.0796, 200)
  point P59 (-748.021, 275)
  point P60 (-728.5398, 250)
  point P61 (-757.0796, 303.4587)
  point P62 (-695.6611, 225)
  point P63 (-651.1799, 206.6987)
  point P64 (-742.7917, 285.4273)
  point P65 (-771.0796, 303.4587)
  point P66 (-804.6796, 190.1567)
  point P67 (-564.55, 188.1567)
  point P68 (-554.95, 190.1567)
  point P69 (-254.95, 390.1567)
  point P70 (-278.75, 12)
  dimension "d43" = 25.75
  dimension "diameter" = 100
  dimension "d8" = 26.1799
  dimension "d14" = 30
  dimension "d15" = 30
  dimension "d16" = 30
  dimension "d32" = 10.625
  dimension "d47" = 8
  dimension "d49" = 2
  dimension "d53" = 21.25
  dimension "d62" = 20.825
  dimension "d123" = 120
  dimension "d126" = 59.109
  dimension "d137" = 2
  dimension "d138" = 90
  dimension "d139" = 90
  dimension "d141" = 7.1
  dimension "d142" = 14
  dimension "d143" = 7.1
  dimension "d144" = 12
  dimension "d145" = 5
  dimension "d146" = 35
  dimension "d147" = 24
  dimension "hole" = 4
  dimension "d155" = 4
  dimension "d156" = 9
  dimension "d157" = 4
  dimension "d158" = 6
  dimension "d159" = 4
  dimension "d160" = 4
  dimension "d241" = 120.891
  dimension "d244" = 120
  dimension "d245" = 30
  dimension "d246" = 3
  dimension "d249" = 200
  dimension "d252" = 300
  dimension "d255" = 120
  dimension "d256" = 5.1701
  dimension "d259" = 0.5
  dimension "d260" = 0.5
  dimension "d261" = 120
  dimension "d262" = 120
  dimension "d264" = 5.1701
  dimension "d265" = 38
  dimension "d268" = 300
  dimension "d275" = 200
  dimension "d288" = 5.1701
  dimension "d289" = 5.1701
  dimension "d290" = 5.1701
  dimension "d291" = 5.1701
  dimension "d292" = 11.2
  dimension "d293" = 4
  dimension "d294" = 4
  dimension "d296" = 3
  dimension "d299" = 300
  dimension "d324" = 11.2
  dimension "d325" = 4
  dimension "d326" = 4
  dimension "d328" = 3
  dimension "d330" = 4
  dimension "d331" = 10
  dimension "d332" = 10
  dimension "d335" = 200
  dimension "d338" = 300
  dimension "d341" = 7.1
  dimension "d342" = 4.6
sketch "Sketch5" plane through (0, 0, 0) normal (0, 0, 1) x (1, 0, 0)
  circle A0 centre (-171.0796, 114.7323) radius 2
  arc A1 (-168.5126, 119.023) -> (-173.6466, 110.4415) centre (-171.0796, 114.7323) ccw construction
  line L0 (-173.6466, 110.4415) -> (-168.5126, 119.023) construction
  line L1 (-137.3368, 94.5451) -> (-171.0796, 114.7323) construction
  line L2 (-137.3368, 94.5451) -> (-143.2815, 84.6085) construction
  line L3 (-141.0754, 84.4005) -> (-135.6205, 93.5183) construction
  line L4 (-142.7917, 85.4273) -> (-141.0754, 84.4005) construction
  line L5 (-173.6466, 110.4415) -> (-138.1875, 89.2276) construction
  line L6 (-138.1875, 89.2276) -> (-133.0535, 97.8091)
  line L7 (-133.0535, 97.8091) -> (-168.5126, 119.023) construction
  line L8 (-159.6382, 113.7138) -> (-159.6382, 107.8873)
  line L9 (-159.6382, 107.8873) -> (-145.3456, 99.3365)
  line L10 (-133.0535, 97.8091) -> (-140.2116, 102.0915)
  line L11 (-152.4919, 103.6119) -> (-153.6918, 101.6062)
  line L12 (-140.2116, 102.0915) -> (-145.3456, 99.3365)
  line L13 (-159.6382, 113.7138) -> (-168.5126, 119.023)
  line L14 (-135.6205, 93.5183) -> (-169.3633, 113.7055) construction
  line L15 (-168.5126, 119.023) -> (-189.9664, 131.858)
  arc A2 (-189.9664, 131.858) -> (-195.1004, 123.2766) centre (-192.5334, 127.5673) ccw
  line L16 (-195.1004, 123.2766) -> (-173.6466, 110.4415)
  line L17 (-142.7917, 85.4273) -> (-141.0754, 84.4005)
  line L18 (-141.0754, 84.4005) -> (-138.1875, 89.2276)
  line L19 (-142.7917, 85.4273) -> (-142.6907, 91.9217)
  line L20 (-142.6907, 91.9217) -> (-173.6466, 110.4415)
  arc A3 (-141.0754, 84.4005) -> (-138.014, 141.6941) centre (-171.0796, 114.7323) ccw construction
  point P0 (0, 0)
  dimension "d346" = 4
  dimension "d347" = 3
  dimension "d356" = 25
  dimension "d357" = 120
extrude "Extrusion6" add sketch "Sketch3" along normal blind 3 contours L107 A105 L270 L162 L163 L165 L164 L160 L161 L166 L167 S6 L190 A74 A48 L111 L113 L168 L119 L116 A50 L117 L118
sketch "Sketch6" plane through (0, 0, 0) normal (0, 0, -1) x (-1, 0, 0)
  line L0 (285.375, -11.8433) -> (285.375, -9.8433) projected
  line L1 (293.375, -11.8433) -> (293.375, -9.8433) projected
  arc A0 (293.375, -9.8433) -> (285.375, -9.8433) centre (289.375, -9.8433) ccw
  line L2 (285.375, -11.8433) -> (293.375, -11.8433)
  line L3 (495.0796, -11.8433) -> (264.55, -11.8433) projected
  point P0 (0, 0)
extrude "Extrusion7" cut sketch "Sketch6" against normal through all
properties part number "4cycloidrail"
